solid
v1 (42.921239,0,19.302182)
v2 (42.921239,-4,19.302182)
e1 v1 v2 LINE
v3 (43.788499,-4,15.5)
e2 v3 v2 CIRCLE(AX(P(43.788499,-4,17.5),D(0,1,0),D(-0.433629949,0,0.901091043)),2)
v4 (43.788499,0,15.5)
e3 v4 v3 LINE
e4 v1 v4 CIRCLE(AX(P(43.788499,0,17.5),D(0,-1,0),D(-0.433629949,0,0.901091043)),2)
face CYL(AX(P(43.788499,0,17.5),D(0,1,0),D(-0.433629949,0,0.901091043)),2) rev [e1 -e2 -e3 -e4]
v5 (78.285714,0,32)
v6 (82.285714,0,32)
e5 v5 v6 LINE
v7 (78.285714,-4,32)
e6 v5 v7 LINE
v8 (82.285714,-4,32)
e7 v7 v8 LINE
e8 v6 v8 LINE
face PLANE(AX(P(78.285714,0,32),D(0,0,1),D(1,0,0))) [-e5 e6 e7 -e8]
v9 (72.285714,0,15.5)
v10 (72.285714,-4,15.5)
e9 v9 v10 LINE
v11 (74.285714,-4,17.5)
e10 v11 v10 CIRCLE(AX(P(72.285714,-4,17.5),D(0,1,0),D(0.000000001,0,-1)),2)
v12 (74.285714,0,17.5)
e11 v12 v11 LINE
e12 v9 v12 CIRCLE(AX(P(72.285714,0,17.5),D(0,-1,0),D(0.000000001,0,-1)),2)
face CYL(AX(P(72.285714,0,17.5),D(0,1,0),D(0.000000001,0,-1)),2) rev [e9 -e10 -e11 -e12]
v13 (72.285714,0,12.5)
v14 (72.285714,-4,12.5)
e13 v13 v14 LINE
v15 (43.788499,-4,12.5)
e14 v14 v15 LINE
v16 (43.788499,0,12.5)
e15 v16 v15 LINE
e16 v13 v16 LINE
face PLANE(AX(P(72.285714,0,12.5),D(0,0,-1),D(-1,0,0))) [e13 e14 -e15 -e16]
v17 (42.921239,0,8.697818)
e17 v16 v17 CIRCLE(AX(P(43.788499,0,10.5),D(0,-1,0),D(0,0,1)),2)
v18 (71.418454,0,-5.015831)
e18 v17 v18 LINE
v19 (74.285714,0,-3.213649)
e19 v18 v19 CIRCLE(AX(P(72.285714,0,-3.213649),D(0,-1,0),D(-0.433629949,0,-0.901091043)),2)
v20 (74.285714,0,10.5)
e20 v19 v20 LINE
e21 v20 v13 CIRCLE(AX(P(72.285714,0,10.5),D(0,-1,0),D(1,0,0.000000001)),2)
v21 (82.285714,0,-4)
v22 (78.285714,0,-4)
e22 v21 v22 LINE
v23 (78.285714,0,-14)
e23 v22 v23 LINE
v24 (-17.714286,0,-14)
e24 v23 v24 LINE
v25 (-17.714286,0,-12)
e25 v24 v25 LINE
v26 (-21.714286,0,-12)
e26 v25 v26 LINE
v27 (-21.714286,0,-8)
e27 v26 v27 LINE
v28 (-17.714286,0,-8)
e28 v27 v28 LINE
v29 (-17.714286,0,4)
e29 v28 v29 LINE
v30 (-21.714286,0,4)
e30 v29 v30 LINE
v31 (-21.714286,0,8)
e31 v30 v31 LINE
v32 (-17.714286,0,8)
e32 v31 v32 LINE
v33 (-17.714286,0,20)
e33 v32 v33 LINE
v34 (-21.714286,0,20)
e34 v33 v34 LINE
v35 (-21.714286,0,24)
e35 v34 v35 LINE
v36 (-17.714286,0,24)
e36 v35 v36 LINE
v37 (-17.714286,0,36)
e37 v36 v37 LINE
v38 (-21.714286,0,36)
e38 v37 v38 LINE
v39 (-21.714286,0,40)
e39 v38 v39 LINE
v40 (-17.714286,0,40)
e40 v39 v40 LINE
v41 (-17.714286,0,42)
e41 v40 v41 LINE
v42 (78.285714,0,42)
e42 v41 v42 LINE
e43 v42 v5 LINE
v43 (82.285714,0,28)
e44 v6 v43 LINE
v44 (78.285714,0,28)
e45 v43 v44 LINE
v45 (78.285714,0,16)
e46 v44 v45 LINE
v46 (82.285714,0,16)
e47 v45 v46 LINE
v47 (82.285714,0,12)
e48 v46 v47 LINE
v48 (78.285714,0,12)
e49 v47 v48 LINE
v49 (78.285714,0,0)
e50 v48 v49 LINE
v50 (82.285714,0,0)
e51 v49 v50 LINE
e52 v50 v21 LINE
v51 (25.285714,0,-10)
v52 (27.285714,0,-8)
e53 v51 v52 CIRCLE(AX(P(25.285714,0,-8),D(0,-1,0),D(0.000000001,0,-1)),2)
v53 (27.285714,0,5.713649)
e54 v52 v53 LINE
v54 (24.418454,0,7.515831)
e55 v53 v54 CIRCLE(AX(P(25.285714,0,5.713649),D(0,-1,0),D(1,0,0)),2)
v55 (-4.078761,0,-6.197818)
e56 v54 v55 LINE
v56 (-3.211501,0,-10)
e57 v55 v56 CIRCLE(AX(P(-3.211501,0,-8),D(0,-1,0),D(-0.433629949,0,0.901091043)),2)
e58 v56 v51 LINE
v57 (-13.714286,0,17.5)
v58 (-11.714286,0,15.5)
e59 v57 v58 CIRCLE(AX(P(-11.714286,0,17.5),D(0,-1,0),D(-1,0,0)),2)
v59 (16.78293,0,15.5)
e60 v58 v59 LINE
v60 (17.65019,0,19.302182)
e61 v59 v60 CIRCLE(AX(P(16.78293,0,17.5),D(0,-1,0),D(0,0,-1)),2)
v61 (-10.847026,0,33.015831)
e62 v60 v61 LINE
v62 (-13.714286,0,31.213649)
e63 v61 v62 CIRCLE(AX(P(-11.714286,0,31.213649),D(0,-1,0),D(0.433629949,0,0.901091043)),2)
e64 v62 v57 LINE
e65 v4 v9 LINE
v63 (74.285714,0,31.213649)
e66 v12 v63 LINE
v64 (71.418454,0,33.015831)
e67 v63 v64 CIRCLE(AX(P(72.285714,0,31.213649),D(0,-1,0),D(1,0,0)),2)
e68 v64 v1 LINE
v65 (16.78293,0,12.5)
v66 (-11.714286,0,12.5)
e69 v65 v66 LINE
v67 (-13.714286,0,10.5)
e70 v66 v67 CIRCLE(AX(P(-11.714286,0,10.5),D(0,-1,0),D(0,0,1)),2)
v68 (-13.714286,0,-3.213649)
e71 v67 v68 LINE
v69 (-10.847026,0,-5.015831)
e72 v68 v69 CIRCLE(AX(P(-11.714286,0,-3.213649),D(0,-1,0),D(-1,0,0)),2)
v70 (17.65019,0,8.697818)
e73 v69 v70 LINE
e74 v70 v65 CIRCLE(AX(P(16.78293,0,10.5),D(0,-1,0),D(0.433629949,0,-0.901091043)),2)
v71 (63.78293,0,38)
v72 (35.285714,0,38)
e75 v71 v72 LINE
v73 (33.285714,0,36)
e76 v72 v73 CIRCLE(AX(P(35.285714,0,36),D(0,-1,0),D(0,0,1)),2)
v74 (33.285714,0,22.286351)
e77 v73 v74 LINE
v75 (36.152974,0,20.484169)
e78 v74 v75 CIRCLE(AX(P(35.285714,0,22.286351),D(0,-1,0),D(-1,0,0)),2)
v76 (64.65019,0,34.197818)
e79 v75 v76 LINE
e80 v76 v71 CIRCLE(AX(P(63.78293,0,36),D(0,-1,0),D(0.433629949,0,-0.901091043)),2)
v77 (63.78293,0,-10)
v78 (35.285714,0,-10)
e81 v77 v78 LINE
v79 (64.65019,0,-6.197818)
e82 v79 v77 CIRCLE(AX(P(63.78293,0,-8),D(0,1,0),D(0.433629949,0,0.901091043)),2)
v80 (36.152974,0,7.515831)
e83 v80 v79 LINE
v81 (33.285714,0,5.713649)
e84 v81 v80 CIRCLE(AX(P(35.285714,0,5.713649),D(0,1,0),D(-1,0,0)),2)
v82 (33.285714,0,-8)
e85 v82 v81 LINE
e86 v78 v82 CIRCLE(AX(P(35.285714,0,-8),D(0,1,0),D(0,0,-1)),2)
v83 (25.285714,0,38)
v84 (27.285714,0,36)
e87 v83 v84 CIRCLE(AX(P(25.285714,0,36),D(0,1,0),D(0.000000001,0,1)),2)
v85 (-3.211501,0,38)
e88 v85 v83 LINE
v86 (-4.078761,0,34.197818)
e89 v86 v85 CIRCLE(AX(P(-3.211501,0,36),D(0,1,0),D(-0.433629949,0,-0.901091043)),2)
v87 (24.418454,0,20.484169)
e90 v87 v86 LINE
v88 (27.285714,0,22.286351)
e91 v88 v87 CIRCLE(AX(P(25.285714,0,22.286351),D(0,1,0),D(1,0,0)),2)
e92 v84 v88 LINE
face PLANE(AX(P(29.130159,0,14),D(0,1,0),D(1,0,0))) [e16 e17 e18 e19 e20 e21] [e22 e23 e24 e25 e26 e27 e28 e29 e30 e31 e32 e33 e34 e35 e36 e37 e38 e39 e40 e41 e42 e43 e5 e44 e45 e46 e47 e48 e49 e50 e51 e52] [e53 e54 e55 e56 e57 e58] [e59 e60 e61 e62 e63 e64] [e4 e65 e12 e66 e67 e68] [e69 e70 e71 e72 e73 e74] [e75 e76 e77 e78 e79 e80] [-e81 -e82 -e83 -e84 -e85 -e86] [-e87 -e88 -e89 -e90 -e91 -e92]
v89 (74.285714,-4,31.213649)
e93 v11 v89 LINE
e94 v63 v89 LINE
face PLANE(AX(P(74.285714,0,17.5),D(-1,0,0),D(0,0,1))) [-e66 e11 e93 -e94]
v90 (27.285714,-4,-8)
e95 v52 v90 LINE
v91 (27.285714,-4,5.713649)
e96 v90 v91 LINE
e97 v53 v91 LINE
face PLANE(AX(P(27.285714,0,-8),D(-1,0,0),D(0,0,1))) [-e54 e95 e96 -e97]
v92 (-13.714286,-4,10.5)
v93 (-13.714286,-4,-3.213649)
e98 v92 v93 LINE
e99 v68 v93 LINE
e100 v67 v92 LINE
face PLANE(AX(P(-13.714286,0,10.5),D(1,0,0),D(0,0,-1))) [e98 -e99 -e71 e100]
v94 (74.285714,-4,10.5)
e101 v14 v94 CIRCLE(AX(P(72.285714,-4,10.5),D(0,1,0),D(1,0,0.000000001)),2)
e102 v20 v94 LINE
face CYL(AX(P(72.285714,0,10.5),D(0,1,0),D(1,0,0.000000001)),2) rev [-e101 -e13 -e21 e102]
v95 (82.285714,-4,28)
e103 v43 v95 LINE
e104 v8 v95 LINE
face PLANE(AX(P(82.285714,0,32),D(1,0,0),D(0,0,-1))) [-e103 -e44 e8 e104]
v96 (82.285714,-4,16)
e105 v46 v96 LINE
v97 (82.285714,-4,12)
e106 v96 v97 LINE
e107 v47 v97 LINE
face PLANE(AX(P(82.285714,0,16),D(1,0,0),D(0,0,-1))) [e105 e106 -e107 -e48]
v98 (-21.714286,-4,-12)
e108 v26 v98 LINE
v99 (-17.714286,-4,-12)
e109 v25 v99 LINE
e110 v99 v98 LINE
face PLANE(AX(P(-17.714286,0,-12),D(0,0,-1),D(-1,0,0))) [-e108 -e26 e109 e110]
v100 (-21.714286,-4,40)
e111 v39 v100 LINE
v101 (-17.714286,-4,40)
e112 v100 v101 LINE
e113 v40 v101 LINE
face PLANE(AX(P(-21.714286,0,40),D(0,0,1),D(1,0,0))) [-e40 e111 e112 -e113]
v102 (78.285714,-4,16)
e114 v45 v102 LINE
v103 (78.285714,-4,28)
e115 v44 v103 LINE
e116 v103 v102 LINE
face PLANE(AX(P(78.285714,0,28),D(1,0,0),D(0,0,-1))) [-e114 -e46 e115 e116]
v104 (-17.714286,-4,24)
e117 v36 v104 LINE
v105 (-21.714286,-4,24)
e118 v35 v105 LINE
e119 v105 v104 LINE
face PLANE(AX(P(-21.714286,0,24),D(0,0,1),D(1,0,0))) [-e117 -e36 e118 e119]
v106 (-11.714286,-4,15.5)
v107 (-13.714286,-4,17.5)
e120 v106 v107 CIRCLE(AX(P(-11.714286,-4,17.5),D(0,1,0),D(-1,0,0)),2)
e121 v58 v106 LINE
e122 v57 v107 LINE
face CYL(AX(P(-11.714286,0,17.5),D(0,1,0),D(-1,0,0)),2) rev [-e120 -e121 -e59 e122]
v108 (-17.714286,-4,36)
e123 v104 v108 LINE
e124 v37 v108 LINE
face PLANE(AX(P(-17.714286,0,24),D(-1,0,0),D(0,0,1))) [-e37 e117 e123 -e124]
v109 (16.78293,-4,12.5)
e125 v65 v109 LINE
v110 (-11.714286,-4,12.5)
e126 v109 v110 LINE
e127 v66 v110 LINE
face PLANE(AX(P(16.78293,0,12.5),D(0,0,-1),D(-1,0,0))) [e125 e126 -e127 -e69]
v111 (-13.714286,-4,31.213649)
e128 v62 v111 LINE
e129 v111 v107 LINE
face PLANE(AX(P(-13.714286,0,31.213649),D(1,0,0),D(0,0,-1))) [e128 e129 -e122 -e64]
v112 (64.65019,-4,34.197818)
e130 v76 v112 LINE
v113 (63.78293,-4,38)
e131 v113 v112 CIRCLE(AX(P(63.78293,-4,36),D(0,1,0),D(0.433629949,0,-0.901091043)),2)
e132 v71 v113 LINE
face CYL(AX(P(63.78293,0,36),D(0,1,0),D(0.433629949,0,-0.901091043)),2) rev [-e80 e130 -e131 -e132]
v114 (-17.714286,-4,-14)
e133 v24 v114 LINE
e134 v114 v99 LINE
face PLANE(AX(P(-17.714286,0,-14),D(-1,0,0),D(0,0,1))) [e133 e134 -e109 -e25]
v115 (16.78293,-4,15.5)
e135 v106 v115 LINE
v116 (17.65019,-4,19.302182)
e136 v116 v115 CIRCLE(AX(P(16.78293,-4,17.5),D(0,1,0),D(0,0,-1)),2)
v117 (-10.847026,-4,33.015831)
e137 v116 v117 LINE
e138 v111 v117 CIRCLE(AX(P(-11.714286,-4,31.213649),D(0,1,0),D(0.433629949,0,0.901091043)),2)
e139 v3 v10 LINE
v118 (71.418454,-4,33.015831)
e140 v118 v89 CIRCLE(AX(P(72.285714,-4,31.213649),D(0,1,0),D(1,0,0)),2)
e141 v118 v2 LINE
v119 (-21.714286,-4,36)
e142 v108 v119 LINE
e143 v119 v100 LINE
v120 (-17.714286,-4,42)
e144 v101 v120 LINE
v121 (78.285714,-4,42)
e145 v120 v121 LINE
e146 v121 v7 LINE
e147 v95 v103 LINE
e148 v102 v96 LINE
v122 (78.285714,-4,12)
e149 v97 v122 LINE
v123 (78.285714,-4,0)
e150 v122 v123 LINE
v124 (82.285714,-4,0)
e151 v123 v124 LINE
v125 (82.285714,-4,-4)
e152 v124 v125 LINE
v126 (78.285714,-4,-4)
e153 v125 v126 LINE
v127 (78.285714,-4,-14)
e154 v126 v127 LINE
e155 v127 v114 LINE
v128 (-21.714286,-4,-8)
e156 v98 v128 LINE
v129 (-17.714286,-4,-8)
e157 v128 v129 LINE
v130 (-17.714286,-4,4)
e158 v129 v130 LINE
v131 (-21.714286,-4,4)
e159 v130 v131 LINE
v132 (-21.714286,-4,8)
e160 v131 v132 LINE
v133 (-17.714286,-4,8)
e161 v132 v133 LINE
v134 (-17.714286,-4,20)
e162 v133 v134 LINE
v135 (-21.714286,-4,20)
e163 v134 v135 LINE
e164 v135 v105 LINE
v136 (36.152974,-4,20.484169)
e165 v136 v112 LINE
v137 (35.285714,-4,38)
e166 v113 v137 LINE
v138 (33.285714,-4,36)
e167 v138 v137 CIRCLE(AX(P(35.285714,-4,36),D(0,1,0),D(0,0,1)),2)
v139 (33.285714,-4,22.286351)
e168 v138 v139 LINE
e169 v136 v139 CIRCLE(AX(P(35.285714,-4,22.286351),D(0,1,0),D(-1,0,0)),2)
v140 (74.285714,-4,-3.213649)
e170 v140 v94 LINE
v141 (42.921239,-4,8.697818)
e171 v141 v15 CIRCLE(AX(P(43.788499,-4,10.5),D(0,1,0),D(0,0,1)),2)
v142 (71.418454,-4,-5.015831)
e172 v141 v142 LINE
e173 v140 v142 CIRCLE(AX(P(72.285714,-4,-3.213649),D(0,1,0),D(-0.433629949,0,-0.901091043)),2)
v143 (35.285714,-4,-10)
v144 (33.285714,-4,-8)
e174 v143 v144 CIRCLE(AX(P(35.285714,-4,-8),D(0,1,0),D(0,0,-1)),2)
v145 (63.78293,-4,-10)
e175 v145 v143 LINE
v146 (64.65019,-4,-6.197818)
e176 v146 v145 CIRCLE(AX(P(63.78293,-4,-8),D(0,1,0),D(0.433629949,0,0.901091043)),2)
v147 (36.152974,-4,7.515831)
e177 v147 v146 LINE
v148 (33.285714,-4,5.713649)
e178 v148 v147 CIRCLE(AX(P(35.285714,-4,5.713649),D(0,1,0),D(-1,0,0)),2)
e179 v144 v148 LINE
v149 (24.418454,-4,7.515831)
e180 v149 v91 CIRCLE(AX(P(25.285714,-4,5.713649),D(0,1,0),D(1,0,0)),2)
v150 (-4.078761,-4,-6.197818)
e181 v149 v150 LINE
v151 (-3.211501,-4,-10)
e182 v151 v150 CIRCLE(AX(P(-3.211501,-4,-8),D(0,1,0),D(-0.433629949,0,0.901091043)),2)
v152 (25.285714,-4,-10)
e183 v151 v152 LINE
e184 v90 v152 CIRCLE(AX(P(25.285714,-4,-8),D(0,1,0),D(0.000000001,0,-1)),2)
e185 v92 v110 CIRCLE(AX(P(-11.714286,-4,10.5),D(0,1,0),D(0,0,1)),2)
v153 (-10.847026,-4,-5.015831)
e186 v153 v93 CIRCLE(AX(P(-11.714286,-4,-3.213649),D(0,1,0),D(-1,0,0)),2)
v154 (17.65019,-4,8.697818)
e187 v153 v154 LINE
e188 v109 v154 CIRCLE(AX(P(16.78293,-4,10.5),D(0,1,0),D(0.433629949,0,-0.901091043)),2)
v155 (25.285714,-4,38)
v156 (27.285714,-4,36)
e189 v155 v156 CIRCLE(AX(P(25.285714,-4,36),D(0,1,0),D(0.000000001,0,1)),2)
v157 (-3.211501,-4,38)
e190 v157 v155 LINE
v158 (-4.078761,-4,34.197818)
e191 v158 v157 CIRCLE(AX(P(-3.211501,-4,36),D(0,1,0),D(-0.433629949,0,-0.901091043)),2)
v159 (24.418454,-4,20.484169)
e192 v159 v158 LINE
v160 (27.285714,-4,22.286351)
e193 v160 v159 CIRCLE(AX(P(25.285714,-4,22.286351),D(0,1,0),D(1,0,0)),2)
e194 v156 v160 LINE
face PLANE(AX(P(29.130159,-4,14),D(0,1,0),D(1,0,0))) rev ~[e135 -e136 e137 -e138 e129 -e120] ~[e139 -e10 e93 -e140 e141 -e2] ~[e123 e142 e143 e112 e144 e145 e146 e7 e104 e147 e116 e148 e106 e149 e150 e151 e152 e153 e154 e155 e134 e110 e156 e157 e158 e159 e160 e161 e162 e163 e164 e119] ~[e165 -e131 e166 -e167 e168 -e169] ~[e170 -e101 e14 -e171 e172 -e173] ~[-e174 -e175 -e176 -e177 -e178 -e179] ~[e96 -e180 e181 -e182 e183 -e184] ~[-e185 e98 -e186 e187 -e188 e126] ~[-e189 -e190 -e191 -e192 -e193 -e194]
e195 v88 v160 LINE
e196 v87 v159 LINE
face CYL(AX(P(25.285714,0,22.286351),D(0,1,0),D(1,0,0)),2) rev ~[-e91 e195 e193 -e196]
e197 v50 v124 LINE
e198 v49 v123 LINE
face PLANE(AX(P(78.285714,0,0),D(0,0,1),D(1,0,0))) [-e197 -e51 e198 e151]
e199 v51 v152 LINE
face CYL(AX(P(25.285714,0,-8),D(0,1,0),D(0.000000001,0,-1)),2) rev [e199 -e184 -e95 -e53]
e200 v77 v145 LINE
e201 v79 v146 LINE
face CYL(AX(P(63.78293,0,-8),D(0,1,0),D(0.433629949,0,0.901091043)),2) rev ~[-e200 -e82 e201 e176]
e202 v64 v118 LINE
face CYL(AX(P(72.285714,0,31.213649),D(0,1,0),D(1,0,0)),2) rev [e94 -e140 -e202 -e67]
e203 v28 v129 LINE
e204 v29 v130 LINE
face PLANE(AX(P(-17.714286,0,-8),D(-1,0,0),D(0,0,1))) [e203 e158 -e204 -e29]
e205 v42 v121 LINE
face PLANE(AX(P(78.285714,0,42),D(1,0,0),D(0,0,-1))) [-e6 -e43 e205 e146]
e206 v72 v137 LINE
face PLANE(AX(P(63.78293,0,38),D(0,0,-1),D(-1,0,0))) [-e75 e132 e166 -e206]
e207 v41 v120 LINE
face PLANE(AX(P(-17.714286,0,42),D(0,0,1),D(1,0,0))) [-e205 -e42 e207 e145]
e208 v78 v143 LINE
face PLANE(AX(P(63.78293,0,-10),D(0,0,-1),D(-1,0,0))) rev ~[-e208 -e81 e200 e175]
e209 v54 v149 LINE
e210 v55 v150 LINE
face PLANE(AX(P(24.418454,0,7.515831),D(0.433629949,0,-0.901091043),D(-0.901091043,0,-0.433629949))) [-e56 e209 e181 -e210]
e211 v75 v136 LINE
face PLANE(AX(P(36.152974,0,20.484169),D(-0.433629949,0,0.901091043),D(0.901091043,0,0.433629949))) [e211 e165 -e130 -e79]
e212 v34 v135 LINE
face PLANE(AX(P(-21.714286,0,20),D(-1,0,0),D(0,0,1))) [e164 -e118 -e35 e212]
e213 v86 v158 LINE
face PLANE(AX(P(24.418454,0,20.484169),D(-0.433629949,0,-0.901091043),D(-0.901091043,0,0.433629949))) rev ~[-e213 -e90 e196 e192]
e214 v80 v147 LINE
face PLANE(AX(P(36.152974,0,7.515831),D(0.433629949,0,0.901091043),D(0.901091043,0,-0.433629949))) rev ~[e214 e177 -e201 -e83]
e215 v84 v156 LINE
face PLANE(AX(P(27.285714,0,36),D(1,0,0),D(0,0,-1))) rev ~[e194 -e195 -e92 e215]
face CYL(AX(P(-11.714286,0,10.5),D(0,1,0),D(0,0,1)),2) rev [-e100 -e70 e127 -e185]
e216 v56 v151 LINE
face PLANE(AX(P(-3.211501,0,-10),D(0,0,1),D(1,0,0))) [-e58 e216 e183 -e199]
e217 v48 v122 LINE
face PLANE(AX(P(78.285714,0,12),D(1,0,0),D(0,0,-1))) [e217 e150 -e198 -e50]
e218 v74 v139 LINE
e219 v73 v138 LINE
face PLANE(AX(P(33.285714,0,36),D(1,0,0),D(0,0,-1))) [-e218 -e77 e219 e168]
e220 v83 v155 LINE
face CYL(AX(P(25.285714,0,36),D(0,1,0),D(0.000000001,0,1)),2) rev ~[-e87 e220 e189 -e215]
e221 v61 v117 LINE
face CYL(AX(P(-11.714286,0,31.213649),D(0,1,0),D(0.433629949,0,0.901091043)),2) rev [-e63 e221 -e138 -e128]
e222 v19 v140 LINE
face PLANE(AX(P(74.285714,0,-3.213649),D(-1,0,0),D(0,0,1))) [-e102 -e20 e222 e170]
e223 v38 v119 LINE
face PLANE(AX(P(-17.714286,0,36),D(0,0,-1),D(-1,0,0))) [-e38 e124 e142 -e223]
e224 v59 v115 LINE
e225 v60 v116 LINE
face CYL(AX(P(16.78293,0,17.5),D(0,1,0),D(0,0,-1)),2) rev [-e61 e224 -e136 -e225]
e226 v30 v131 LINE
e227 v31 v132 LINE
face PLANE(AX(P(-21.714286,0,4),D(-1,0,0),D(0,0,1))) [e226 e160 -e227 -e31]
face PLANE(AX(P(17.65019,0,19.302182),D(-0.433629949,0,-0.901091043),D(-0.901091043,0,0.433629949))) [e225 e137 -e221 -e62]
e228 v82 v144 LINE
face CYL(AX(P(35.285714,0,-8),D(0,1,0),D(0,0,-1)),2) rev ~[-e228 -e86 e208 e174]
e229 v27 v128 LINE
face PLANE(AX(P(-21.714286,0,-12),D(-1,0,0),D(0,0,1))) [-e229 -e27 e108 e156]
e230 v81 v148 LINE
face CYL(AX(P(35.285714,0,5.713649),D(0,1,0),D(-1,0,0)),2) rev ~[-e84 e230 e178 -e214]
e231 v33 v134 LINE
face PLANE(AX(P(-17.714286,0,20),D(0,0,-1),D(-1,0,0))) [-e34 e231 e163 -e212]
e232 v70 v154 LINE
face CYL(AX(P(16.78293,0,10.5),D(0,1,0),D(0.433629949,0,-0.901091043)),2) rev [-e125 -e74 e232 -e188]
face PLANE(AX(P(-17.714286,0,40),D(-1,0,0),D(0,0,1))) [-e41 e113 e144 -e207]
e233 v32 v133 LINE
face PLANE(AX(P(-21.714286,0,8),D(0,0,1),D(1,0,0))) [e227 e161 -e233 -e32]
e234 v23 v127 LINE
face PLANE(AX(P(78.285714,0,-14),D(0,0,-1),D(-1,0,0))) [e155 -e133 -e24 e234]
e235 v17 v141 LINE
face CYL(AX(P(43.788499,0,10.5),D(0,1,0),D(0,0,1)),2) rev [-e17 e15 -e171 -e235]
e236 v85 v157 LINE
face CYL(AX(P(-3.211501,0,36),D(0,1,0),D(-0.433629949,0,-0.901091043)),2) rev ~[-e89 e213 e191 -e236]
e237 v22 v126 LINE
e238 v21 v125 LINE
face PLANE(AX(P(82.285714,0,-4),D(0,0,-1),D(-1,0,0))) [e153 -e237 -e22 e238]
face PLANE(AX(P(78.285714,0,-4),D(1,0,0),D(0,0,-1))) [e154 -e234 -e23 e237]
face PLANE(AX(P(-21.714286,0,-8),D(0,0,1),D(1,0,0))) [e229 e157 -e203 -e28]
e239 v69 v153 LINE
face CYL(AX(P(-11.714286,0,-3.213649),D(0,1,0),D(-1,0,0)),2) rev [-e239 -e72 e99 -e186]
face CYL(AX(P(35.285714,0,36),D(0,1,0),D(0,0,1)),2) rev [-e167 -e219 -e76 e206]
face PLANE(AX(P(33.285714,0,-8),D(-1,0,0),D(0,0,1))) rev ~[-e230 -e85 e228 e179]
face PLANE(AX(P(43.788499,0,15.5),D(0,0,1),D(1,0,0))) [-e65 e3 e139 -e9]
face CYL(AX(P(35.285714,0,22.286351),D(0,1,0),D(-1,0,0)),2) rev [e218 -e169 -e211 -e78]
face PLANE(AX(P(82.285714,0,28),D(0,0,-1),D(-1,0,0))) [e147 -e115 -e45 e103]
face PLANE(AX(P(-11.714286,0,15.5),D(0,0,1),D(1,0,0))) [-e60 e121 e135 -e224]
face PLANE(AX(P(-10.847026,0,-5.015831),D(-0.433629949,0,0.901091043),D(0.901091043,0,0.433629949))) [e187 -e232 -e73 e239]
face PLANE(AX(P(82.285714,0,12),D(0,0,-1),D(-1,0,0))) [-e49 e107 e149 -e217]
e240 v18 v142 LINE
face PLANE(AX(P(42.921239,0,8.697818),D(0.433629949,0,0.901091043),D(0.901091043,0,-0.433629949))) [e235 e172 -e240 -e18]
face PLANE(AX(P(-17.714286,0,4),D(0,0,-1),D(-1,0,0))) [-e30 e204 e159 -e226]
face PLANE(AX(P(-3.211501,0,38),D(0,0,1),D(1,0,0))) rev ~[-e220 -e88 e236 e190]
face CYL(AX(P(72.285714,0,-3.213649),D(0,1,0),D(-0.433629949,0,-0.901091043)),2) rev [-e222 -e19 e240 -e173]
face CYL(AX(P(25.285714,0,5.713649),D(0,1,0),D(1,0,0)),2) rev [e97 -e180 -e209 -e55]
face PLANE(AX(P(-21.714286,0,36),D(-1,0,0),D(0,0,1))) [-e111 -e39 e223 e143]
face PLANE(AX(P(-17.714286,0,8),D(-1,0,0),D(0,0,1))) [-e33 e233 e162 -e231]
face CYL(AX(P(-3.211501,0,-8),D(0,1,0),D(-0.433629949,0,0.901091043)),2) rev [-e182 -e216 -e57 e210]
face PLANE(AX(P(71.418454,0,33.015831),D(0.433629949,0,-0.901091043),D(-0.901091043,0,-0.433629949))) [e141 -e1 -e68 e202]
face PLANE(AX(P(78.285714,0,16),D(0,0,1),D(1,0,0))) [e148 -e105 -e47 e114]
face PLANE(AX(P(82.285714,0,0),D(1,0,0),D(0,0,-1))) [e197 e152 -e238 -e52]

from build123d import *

# Parameters (mm, degrees)
BOSS_EXTRUDE1_DEPTH = 4
CUT_EXTRUDE1_DEPTH  = 10


with BuildPart() as part:
    # Sketch1 → Boss-Extrude1 (new body)
    with BuildSketch(Plane(origin=(0, 0, 0), x_dir=(1, 0, 0), z_dir=(0, 1, 0))):
        Polygon((-17.714285714, 14), (-17.714285714, 12), (-21.714285714, 12), (-21.714285714, 8), (-17.714285714, 8), (-17.714285714, -4), (-21.714285714, -4), (-21.714285714, -8), (-17.714285714, -8), (-17.714285714, -20), (-21.714285714, -20), (-21.714285714, -24), (-17.714285714, -24), (-17.714285714, -36), (-21.714285714, -36), (-21.714285714, -40), (-17.714285714, -40), (-17.714285714, -42), (78.285714286, -42), (78.285714286, -32), (82.285714286, -32), (82.285714286, -28), (78.285714286, -28), (78.285714286, -16), (82.285714286, -16), (82.285714286, -12), (78.285714286, -12), (78.285714286, 0), (82.285714286, 0), (82.285714286, 4), (78.285714286, 4), (78.285714286, 14), align=None)
    extrude(amount=-BOSS_EXTRUDE1_DEPTH)

    # Sketch2 → Cut-Extrude1 (cut)
    with BuildSketch(Plane(origin=(0, 0, 0), x_dir=(1, 0, 0), z_dir=(0, 1, 0))):
        with BuildLine():
            Line((-3.21150143, 10), (25.285714286, 10))
            ThreePointArc((25.285714286, 10), (26.699927848, 9.414213562), (27.285714286, 8))
            Line((27.285714286, 8), (27.285714286, -5.713648924))
            ThreePointArc((27.285714286, -5.713648924), (26.350016922, -7.40694745), (24.418454387, -7.515831009))
            Line((24.418454387, -7.515831009), (-4.078761328, 6.197817915))
            ThreePointArc((-4.078761328, 6.197817915), (-5.161419911, 8.444767259), (-3.21150143, 10))
        make_face()
        with BuildLine():
            ThreePointArc((-13.714285714, 3.213648924), (-12.77858835, 4.90694745), (-10.847025816, 5.015831009))
            Line((-10.847025816, 5.015831009), (17.6501899, -8.697817915))
            ThreePointArc((17.6501899, -8.697817915), (18.732848483, -10.944767259), (16.782930001, -12.5))
            Line((16.782930001, -12.5), (-11.714285714, -12.5))
            ThreePointArc((-11.714285714, -12.5), (-13.128499277, -11.914213562), (-13.714285714, -10.5))
            Line((-13.714285714, -10.5), (-13.714285714, 3.213648924))
        make_face()
        with BuildLine():
            ThreePointArc((-13.714285714, -17.5), (-13.128499277, -16.085786438), (-11.714285714, -15.5))
            Line((-11.714285714, -15.5), (16.782930001, -15.5))
            ThreePointArc((16.782930001, -15.5), (18.732848483, -17.055232741), (17.6501899, -19.302182085))
            Line((17.6501899, -19.302182085), (-10.847025816, -33.015831009))
            ThreePointArc((-10.847025816, -33.015831009), (-12.77858835, -32.90694745), (-13.714285714, -31.213648924))
            Line((-13.714285714, -31.213648924), (-13.714285714, -17.5))
        make_face()
        with BuildLine():
            Line((27.285714286, -36), (27.285714286, -22.286351076))
            ThreePointArc((27.285714286, -22.286351076), (26.350016922, -20.59305255), (24.418454387, -20.484168991))
            Line((24.418454387, -20.484168991), (-4.078761328, -34.197817915))
            ThreePointArc((-4.078761328, -34.197817915), (-5.161419911, -36.444767259), (-3.21150143, -38))
            Line((-3.21150143, -38), (25.285714286, -38))
            ThreePointArc((25.285714286, -38), (26.699927848, -37.414213562), (27.285714286, -36))
        make_face()
        with BuildLine():
            Line((63.782930001, -38), (35.285714286, -38))
            ThreePointArc((35.285714286, -38), (33.871500723, -37.414213562), (33.285714286, -36))
            Line((33.285714286, -36), (33.285714286, -22.286351076))
            ThreePointArc((33.285714286, -22.286351076), (34.22141165, -20.59305255), (36.152974184, -20.484168991))
            Line((36.152974184, -20.484168991), (64.6501899, -34.197817915))
            ThreePointArc((64.6501899, -34.197817915), (65.732848483, -36.444767259), (63.782930001, -38))
        make_face()
        with BuildLine():
            ThreePointArc((74.285714286, -31.213648924), (73.350016922, -32.90694745), (71.418454387, -33.015831009))
            Line((71.418454387, -33.015831009), (42.921238672, -19.302182085))
            ThreePointArc((42.921238672, -19.302182085), (41.838580089, -17.055232741), (43.78849857, -15.5))
            Line((43.78849857, -15.5), (72.285714286, -15.5))
            ThreePointArc((72.285714286, -15.5), (73.699927848, -16.085786438), (74.285714286, -17.5))
            Line((74.285714286, -17.5), (74.285714286, -31.213648924))
        make_face()
        with BuildLine():
            ThreePointArc((74.285714286, -10.5), (73.699927848, -11.914213562), (72.285714286, -12.5))
            Line((72.285714286, -12.5), (43.78849857, -12.5))
            ThreePointArc((43.78849857, -12.5), (41.838580089, -10.944767259), (42.921238672, -8.697817915))
            Line((42.921238672, -8.697817915), (71.418454387, 5.015831009))
            ThreePointArc((71.418454387, 5.015831009), (73.350016922, 4.90694745), (74.285714286, 3.213648924))
            Line((74.285714286, 3.213648924), (74.285714286, -10.5))
        make_face()
        with BuildLine():
            Line((33.285714286, 8), (33.285714286, -5.713648924))
            ThreePointArc((33.285714286, -5.713648924), (34.22141165, -7.40694745), (36.152974184, -7.515831009))
            Line((36.152974184, -7.515831009), (64.6501899, 6.197817915))
            ThreePointArc((64.6501899, 6.197817915), (65.732848483, 8.444767259), (63.782930001, 10))
            Line((63.782930001, 10), (35.285714286, 10))
            ThreePointArc((35.285714286, 10), (33.871500723, 9.414213562), (33.285714286, 8))
        make_face()
    extrude(amount=-CUT_EXTRUDE1_DEPTH, mode=Mode.SUBTRACT)


solid = part.part
